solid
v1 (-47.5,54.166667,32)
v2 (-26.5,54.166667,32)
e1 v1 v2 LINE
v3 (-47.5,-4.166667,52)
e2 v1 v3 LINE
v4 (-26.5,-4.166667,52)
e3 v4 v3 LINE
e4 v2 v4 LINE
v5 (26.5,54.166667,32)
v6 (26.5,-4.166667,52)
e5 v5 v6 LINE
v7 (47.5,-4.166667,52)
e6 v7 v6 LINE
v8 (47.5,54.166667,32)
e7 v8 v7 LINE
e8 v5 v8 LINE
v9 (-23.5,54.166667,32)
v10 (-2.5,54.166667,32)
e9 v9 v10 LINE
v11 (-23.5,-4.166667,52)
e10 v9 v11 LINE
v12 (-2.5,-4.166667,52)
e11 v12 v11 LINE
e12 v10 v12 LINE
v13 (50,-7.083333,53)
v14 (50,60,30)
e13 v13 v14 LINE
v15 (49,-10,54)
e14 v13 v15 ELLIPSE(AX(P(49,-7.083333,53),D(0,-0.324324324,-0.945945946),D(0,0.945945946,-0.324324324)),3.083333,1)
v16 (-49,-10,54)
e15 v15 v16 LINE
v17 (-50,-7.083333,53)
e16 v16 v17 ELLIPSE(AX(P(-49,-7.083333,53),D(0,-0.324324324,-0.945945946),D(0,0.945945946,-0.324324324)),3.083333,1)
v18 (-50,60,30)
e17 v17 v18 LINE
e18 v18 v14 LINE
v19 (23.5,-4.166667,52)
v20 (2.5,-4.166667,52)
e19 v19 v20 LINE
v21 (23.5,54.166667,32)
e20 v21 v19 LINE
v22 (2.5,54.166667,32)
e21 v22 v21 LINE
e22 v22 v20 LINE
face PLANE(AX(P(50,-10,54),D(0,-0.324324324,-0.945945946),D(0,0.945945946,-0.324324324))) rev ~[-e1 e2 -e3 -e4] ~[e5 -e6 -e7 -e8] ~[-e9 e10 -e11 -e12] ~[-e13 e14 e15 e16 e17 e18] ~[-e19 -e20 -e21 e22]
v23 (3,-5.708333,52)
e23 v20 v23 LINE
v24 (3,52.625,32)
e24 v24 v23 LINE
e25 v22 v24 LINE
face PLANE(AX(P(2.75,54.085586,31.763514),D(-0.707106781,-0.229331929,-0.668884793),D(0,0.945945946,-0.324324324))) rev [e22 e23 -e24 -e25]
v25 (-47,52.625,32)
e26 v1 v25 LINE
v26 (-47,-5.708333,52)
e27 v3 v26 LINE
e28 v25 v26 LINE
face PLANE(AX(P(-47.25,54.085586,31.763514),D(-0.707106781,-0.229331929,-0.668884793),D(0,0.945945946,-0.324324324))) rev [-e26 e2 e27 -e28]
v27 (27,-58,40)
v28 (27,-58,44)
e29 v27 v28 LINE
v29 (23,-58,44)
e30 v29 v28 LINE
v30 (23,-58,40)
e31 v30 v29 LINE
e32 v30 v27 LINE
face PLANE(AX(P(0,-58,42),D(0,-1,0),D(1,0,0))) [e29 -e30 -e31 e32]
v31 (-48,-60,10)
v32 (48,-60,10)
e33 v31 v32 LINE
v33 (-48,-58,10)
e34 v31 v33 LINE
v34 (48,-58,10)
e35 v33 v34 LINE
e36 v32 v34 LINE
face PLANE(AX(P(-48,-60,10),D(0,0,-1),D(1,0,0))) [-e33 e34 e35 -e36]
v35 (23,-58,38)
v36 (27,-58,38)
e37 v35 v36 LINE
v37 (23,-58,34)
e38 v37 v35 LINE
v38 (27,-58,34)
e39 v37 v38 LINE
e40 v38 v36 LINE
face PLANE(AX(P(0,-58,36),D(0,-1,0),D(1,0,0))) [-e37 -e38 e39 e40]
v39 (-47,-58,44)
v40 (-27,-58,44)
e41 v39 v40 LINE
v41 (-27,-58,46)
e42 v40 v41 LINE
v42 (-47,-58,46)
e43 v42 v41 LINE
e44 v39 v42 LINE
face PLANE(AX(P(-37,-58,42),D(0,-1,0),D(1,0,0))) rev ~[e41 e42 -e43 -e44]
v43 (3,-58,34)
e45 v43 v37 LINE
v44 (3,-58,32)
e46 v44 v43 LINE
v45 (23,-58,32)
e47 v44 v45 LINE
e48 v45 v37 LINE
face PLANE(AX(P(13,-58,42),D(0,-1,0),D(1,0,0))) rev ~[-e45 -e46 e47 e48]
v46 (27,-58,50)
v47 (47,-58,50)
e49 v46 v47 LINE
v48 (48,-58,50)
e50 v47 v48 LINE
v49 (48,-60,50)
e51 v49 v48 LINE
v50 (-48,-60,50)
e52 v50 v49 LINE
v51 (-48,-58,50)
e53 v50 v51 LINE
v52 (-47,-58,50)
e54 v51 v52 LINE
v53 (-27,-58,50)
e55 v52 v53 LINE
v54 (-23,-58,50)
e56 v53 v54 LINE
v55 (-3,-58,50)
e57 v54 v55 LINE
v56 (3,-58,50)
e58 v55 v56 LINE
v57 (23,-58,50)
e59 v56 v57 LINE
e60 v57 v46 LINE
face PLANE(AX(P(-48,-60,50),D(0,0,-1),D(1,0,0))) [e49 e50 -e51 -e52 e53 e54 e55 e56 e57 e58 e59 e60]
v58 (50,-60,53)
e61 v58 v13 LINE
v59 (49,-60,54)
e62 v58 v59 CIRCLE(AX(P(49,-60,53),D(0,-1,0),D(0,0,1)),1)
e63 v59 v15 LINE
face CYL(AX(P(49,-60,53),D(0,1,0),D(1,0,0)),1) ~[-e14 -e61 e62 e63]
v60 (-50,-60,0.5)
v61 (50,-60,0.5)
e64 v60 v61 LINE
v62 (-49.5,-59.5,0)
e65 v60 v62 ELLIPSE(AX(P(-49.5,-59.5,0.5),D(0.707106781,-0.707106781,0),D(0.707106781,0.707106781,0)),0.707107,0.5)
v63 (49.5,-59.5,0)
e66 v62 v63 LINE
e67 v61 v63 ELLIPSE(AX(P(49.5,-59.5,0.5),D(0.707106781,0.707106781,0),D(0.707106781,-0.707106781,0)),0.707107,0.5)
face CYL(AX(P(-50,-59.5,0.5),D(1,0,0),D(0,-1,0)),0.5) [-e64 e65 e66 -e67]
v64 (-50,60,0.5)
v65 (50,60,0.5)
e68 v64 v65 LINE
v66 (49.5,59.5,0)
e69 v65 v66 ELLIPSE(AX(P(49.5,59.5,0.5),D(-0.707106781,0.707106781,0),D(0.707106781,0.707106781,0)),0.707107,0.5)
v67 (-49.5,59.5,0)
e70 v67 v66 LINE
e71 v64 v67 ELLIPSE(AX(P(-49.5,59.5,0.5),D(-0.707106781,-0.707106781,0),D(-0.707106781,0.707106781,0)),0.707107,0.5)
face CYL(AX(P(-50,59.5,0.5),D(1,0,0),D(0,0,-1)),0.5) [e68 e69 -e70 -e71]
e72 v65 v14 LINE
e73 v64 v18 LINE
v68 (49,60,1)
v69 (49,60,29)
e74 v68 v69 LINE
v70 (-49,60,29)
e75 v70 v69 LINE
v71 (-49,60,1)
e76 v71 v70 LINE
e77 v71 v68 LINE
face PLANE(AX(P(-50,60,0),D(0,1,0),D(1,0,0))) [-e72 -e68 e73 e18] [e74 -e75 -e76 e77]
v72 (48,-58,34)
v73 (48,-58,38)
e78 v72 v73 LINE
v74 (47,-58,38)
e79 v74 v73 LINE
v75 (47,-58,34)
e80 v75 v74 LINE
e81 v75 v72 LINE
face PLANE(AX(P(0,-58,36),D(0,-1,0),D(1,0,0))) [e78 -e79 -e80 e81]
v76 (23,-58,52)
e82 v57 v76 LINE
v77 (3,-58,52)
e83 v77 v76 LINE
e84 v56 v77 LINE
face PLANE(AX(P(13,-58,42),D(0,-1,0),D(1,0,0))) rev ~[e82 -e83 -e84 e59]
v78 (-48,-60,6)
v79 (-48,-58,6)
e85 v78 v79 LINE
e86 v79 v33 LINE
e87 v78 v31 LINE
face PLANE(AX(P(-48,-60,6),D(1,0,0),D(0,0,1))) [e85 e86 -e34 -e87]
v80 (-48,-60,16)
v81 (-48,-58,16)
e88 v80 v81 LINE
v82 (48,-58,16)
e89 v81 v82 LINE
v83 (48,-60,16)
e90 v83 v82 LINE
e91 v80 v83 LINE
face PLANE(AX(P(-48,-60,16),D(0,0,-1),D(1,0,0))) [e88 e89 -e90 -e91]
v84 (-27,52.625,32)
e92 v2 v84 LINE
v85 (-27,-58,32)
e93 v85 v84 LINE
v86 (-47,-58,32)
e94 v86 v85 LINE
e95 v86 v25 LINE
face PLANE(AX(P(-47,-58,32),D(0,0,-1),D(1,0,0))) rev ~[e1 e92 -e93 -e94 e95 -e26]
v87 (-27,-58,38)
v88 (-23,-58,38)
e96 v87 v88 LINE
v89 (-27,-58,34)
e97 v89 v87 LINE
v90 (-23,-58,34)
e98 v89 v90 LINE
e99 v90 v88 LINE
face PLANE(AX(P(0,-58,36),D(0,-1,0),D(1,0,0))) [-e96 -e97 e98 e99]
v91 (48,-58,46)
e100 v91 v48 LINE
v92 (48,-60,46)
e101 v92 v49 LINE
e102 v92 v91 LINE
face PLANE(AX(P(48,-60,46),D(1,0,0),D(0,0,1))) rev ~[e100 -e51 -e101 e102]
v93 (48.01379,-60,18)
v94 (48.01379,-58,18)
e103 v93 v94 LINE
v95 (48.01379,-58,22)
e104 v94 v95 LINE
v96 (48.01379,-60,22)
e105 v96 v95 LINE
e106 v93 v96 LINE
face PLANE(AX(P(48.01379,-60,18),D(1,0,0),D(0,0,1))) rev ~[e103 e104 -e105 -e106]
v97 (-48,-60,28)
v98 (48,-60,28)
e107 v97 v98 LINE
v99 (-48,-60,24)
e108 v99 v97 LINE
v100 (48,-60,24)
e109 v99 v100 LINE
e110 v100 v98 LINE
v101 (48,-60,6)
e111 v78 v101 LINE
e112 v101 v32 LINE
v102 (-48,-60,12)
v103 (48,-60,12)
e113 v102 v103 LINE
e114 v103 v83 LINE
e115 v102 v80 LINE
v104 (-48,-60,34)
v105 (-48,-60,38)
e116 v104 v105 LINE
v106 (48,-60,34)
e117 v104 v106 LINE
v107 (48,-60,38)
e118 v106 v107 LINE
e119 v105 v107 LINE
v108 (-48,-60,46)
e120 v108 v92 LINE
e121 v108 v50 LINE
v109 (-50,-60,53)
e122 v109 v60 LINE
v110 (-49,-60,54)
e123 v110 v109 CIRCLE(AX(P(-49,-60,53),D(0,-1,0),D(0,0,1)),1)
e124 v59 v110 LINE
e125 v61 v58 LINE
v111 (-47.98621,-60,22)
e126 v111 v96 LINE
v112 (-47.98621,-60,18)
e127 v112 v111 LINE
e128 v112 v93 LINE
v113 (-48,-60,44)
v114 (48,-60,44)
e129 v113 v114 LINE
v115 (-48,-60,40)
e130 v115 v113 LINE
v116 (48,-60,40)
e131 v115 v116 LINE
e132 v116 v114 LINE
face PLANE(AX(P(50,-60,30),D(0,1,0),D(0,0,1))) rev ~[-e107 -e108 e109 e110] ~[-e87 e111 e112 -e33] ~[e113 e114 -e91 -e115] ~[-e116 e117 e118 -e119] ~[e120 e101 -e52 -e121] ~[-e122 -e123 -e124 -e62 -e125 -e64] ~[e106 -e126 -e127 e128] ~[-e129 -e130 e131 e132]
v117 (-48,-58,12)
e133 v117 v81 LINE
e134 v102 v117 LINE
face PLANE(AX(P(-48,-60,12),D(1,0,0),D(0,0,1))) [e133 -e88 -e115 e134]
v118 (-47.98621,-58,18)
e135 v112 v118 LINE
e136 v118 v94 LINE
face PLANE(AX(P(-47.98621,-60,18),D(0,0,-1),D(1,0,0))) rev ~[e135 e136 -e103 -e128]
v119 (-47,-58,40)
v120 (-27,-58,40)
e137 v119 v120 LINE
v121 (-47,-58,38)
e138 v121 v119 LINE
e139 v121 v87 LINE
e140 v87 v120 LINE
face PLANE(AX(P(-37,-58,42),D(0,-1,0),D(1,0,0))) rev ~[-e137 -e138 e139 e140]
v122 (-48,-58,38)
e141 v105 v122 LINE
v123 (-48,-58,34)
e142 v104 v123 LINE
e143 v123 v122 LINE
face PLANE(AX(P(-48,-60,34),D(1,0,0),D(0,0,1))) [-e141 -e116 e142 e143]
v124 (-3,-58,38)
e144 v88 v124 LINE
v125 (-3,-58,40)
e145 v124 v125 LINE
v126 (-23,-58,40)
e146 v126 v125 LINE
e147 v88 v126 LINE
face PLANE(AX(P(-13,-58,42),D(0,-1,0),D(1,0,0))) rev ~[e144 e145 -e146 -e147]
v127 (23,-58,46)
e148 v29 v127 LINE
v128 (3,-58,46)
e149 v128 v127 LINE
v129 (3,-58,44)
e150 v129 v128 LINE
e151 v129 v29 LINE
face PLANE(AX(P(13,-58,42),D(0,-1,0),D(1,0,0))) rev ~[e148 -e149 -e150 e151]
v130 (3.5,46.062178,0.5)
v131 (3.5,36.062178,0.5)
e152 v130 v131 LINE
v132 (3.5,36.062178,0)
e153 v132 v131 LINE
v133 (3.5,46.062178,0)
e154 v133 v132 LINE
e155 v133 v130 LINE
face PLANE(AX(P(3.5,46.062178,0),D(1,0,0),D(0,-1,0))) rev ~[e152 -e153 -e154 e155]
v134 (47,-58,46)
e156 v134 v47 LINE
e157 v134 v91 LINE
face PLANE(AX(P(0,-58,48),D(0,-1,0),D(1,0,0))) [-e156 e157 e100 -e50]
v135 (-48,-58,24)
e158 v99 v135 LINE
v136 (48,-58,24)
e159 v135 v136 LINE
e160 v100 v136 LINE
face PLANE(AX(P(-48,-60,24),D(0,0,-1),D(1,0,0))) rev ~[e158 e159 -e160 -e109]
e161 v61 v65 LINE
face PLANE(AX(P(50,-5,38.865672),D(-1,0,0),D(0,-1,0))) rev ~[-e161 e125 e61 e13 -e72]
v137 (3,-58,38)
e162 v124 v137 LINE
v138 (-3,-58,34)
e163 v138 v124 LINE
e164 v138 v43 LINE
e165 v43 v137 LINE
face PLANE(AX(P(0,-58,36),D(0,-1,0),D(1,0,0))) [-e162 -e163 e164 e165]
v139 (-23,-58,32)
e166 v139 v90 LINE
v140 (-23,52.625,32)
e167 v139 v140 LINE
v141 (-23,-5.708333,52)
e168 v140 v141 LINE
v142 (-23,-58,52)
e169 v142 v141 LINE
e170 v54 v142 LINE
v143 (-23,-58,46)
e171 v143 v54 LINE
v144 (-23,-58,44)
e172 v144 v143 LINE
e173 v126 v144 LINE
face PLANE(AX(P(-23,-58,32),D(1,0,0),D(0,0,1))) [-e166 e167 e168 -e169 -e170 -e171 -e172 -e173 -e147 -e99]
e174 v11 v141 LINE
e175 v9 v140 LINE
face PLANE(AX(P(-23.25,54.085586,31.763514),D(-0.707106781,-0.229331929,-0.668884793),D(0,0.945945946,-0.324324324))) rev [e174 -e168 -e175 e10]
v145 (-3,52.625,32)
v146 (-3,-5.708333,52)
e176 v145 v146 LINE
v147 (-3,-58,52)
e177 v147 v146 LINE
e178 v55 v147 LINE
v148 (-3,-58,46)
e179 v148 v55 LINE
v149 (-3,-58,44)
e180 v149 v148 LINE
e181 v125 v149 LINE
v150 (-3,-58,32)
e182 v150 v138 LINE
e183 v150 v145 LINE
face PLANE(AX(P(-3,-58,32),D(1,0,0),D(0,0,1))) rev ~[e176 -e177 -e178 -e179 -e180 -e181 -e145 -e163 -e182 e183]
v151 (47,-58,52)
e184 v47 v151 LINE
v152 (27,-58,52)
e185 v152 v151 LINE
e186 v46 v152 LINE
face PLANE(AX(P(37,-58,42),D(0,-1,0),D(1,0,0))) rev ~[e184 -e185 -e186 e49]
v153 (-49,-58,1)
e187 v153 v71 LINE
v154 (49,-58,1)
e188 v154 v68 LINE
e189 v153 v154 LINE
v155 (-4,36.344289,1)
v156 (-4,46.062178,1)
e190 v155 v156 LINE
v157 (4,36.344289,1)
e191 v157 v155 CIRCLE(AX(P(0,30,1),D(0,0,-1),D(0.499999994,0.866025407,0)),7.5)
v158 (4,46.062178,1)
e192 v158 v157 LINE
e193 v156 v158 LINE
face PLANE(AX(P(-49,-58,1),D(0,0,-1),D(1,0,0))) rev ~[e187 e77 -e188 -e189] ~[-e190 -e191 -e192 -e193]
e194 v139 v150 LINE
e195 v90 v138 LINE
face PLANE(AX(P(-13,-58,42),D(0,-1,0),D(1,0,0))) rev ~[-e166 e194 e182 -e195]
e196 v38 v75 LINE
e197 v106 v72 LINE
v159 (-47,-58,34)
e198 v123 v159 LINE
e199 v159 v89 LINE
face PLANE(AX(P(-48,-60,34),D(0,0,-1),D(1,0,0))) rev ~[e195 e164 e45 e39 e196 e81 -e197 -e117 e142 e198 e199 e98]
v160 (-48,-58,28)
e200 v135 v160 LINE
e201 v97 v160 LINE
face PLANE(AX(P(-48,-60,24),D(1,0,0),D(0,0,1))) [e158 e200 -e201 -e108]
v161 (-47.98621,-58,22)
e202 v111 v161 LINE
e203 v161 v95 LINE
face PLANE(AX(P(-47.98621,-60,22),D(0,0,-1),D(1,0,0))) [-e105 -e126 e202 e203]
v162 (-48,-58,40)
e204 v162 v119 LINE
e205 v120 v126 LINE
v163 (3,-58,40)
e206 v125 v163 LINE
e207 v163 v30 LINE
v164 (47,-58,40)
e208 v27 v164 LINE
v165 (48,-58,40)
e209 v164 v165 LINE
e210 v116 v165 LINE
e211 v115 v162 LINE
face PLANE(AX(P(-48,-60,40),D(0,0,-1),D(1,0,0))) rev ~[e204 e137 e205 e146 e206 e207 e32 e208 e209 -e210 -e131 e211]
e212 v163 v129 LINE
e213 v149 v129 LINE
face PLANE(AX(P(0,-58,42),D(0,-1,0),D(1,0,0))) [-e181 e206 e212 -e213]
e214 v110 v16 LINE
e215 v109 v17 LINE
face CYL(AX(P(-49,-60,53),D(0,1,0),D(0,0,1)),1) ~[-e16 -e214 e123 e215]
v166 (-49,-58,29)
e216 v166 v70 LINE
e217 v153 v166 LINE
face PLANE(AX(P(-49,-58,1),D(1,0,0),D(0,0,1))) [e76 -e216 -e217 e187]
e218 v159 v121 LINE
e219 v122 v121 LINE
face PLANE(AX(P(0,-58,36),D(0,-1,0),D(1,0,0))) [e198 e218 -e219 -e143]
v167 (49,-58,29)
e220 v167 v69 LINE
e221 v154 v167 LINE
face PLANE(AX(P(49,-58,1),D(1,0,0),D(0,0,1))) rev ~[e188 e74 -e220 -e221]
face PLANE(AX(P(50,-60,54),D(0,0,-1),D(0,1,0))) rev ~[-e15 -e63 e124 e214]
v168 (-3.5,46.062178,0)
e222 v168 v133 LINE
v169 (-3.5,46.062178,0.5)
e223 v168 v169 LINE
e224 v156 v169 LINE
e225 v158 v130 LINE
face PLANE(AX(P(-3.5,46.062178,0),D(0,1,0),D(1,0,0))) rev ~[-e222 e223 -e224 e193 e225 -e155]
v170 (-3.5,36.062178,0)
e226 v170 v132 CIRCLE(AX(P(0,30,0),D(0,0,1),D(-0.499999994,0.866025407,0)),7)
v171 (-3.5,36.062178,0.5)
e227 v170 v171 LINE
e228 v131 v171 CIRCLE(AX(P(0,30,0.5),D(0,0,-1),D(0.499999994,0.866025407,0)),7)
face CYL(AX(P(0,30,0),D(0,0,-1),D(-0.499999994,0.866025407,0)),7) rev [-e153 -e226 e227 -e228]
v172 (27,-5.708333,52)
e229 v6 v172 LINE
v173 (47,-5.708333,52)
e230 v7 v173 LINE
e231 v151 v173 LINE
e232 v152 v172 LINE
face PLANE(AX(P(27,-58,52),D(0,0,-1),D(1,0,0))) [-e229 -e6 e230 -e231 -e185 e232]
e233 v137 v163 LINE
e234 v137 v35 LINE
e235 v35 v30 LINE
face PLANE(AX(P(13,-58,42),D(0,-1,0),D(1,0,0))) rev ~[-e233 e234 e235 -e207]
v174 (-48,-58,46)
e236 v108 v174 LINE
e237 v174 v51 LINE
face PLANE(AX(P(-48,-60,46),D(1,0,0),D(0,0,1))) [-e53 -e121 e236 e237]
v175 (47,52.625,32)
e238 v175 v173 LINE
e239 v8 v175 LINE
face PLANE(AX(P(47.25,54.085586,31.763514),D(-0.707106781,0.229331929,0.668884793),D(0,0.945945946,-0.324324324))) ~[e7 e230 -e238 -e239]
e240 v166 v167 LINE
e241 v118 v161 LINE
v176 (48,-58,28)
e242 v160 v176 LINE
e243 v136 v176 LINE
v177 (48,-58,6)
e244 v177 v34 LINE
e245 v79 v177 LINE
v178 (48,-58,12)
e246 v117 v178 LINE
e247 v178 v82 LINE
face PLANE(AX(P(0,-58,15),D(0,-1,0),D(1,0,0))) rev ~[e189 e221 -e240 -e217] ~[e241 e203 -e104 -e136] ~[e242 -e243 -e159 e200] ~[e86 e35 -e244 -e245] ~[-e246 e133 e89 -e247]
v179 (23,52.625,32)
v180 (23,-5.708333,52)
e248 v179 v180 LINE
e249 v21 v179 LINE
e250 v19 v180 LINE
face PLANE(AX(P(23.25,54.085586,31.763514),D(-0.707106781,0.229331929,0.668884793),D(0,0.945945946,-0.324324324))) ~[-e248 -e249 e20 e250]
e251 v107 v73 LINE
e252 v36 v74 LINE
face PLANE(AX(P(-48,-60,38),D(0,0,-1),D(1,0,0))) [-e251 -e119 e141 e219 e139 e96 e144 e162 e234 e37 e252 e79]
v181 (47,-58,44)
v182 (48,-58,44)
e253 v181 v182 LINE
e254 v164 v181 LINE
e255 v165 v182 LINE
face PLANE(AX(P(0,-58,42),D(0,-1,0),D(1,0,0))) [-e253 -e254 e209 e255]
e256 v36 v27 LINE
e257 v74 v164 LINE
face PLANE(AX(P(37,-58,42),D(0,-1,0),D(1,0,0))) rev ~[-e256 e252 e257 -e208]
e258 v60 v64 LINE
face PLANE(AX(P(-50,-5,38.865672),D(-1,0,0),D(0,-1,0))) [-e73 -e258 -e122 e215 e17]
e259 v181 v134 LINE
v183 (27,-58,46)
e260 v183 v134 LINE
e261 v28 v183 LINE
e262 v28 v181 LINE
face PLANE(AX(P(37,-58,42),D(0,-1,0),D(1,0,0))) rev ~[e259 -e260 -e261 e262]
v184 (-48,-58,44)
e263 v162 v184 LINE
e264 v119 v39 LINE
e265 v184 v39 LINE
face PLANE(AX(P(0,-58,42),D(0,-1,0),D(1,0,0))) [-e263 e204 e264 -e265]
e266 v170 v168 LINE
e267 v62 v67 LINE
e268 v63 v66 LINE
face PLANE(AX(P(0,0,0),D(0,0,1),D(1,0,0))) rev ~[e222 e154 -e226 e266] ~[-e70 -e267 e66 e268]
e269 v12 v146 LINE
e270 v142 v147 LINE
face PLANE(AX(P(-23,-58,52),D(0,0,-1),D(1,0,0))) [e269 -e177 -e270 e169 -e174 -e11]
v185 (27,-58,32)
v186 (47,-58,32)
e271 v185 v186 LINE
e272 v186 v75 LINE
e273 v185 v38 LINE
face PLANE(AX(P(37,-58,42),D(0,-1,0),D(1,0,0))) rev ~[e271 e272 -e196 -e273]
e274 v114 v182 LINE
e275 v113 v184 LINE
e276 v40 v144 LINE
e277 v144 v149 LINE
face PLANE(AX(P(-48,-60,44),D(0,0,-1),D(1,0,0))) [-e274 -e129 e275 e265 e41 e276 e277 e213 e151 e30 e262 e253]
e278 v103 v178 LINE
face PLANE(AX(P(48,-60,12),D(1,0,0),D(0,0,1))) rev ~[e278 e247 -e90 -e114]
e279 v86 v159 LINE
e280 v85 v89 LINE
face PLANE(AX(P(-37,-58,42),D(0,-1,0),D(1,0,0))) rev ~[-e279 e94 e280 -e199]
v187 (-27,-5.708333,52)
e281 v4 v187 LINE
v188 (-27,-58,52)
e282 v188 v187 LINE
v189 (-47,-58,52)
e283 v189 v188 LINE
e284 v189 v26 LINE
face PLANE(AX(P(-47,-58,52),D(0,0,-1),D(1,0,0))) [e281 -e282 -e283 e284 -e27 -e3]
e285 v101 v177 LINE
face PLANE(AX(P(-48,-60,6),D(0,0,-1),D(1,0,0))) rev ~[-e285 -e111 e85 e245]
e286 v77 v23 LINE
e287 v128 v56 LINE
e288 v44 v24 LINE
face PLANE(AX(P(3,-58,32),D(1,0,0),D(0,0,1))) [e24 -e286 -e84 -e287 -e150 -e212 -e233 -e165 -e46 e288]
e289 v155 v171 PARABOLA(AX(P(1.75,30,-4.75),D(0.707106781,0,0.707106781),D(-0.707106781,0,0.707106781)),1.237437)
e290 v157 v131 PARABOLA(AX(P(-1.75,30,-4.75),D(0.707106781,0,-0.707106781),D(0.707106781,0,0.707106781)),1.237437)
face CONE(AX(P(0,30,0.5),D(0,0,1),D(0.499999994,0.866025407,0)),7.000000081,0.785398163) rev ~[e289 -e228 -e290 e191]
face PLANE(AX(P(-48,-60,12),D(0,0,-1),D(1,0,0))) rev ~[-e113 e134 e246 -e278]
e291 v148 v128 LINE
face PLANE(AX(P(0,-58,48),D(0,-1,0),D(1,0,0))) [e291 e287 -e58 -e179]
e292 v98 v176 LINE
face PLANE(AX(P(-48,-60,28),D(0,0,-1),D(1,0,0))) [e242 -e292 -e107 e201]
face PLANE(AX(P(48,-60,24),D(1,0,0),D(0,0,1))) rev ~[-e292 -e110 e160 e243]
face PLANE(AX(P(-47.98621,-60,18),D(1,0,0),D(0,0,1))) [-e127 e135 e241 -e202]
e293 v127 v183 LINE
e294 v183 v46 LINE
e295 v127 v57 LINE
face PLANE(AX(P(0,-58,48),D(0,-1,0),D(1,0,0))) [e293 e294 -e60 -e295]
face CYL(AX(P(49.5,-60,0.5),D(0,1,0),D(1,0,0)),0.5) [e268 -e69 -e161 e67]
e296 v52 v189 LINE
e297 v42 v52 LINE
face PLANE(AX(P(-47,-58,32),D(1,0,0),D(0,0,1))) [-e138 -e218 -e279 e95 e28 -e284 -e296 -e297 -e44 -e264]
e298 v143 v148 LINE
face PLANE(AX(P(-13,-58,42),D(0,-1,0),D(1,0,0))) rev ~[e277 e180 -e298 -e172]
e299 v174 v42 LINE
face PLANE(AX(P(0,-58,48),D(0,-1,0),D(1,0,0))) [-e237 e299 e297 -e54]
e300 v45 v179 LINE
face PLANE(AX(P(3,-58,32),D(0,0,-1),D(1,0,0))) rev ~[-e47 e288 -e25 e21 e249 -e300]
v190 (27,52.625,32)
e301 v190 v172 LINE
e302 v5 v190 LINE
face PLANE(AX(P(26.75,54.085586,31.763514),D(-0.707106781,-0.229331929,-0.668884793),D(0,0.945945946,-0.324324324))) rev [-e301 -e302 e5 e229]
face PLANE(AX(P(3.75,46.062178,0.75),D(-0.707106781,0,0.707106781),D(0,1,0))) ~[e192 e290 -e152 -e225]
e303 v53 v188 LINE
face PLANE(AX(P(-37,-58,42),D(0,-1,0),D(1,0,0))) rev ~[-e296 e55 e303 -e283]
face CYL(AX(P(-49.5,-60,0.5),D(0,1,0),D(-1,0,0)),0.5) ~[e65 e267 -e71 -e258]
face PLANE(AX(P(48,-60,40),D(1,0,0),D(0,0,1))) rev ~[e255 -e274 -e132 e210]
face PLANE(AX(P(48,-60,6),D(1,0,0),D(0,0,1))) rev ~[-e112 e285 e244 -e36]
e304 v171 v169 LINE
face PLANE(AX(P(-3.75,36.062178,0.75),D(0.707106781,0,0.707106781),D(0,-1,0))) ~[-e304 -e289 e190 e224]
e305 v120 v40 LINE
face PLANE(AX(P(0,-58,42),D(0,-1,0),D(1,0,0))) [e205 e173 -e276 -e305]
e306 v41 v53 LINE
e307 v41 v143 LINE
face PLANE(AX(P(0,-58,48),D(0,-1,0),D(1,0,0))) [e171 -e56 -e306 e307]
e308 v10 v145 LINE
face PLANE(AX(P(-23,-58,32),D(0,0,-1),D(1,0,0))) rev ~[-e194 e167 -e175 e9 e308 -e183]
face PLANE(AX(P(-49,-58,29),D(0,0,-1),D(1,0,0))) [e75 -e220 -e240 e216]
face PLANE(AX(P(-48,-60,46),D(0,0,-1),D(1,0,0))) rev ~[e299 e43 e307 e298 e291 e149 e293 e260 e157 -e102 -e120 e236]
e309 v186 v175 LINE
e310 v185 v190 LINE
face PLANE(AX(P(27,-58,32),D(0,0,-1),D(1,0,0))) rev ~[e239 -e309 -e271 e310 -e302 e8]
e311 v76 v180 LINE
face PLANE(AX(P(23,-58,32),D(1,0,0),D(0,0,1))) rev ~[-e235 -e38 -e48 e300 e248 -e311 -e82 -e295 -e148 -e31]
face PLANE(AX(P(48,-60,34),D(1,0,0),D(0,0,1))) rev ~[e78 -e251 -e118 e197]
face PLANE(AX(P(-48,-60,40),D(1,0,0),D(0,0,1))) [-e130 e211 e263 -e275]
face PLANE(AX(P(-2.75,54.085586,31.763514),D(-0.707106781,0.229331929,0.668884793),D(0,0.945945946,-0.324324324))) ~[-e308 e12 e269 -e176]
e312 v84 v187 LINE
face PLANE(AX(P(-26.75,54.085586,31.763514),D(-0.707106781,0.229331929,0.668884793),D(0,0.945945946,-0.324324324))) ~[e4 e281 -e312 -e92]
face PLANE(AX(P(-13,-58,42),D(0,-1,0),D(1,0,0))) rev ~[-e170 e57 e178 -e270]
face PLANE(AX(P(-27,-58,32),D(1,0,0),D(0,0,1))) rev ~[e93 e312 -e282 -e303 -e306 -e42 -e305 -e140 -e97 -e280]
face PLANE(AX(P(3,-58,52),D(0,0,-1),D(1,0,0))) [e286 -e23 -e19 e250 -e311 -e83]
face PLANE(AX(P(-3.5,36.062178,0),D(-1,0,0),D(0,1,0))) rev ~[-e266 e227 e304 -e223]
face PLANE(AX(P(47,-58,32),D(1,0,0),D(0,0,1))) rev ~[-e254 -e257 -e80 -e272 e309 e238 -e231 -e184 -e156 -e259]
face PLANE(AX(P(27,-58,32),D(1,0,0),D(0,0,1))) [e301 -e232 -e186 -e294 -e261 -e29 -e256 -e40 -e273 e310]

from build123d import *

# Parameters (mm, degrees)
SKETCH_W        = 100
SKETCH_H        = 120
PAD_DEPTH       = 30
SKETCH001_W     = 98
SKETCH001_H     = 28
POCKET_DEPTH    = 118
POCKET006_DEPTH = 2
PAD001_DEPTH    = 100
SKETCH012_W     = 20
SKETCH012_H     = 20
POCKET011_DEPTH = 118
SKETCH016_W     = 96
SKETCH016_H     = 4
POCKET012_DEPTH = 2
SKETCH014_W     = 96
SKETCH014_H     = 4
POCKET013_DEPTH = 2
SKETCH013_W     = 96
SKETCH013_H     = 4
POCKET014_DEPTH = 2
SKETCH009_W     = 96
SKETCH009_H     = 4
POCKET015_DEPTH = 2
SKETCH003_W     = 96
SKETCH003_H     = 4
POCKET016_DEPTH = 2
SKETCH007_W     = 96
SKETCH007_H     = 4
POCKET017_DEPTH = 2
SKETCH008_W     = 96
SKETCH008_H     = 4
POCKET018_DEPTH = 2
FILLET_R        = 0.5
FILLET001_R     = 1
FILLET002_R     = 1
CHAMFER_SIZE    = 0.5
CHAMFER001_SIZE = 0.5


with BuildPart() as part:
    # Sketch → Pad (new body)
    with BuildSketch(Plane.XY):
        Rectangle(SKETCH_W, SKETCH_H)
    extrude(amount=PAD_DEPTH)

    # Sketch001 → Pocket (cut)
    with BuildSketch(Plane.XZ.offset(58)):
        with Locations((0, 15)):
            Rectangle(SKETCH001_W, SKETCH001_H)
    extrude(amount=-POCKET_DEPTH, mode=Mode.SUBTRACT)

    # Sketch010 → Pocket006 (cut)
    with BuildSketch(Plane.XY):
        with BuildLine():
            Line((-3.5, 46.062178), (3.5, 46.062178))
            Line((3.5, 46.062178), (3.5, 36.062178))
            ThreePointArc((-3.5, 36.062178), (0, 23), (3.5, 36.062178))
            Line((-3.5, 36.062178), (-3.5, 46.062178))
        make_face()
    extrude(amount=POCKET006_DEPTH, mode=Mode.SUBTRACT)

    # Sketch011 → Pad001 (join)
    with BuildSketch(Plane.YZ.offset(50)):
        Polygon((60, 30), (-60, 30), (-60, 54), (-10, 54), align=None)
    extrude(amount=-PAD001_DEPTH)

    # Sketch012 → Pocket011 (cut)
    with BuildSketch(Plane.XZ.offset(58)):
        with Locations((37, 42)):
            Rectangle(SKETCH012_W, SKETCH012_H)
        with Locations((13, 42)):
            Rectangle(SKETCH012_W, SKETCH012_H)
        with Locations((-13, 42)):
            Rectangle(SKETCH012_W, SKETCH012_H)
        with Locations((-37, 42)):
            Rectangle(SKETCH012_W, SKETCH012_H)
    extrude(amount=-POCKET011_DEPTH, mode=Mode.SUBTRACT)

    # Sketch016 → Pocket012 (cut)
    with BuildSketch(Plane.XZ.offset(60)):
        with Locations((0, 48)):
            Rectangle(SKETCH016_W, SKETCH016_H)
    extrude(amount=-POCKET012_DEPTH, mode=Mode.SUBTRACT)

    # Sketch014 → Pocket013 (cut)
    with BuildSketch(Plane.XZ.offset(60)):
        with Locations((0, 42)):
            Rectangle(SKETCH014_W, SKETCH014_H)
    extrude(amount=-POCKET013_DEPTH, mode=Mode.SUBTRACT)

    # Sketch013 → Pocket014 (cut)
    with BuildSketch(Plane.XZ.offset(60)):
        with Locations((0, 36)):
            Rectangle(SKETCH013_W, SKETCH013_H)
    extrude(amount=-POCKET014_DEPTH, mode=Mode.SUBTRACT)

    # Sketch009 → Pocket015 (cut)
    with BuildSketch(Plane.XZ.offset(60)):
        with Locations((0, 26)):
            Rectangle(SKETCH009_W, SKETCH009_H)
    extrude(amount=-POCKET015_DEPTH, mode=Mode.SUBTRACT)

    # Sketch003 → Pocket016 (cut)
    with BuildSketch(Plane.XZ.offset(60)):
        with Locations((0.01379, 20)):
            Rectangle(SKETCH003_W, SKETCH003_H)
    extrude(amount=-POCKET016_DEPTH, mode=Mode.SUBTRACT)

    # Sketch007 → Pocket017 (cut)
    with BuildSketch(Plane.XZ.offset(60)):
        with Locations((0, 14)):
            Rectangle(SKETCH007_W, SKETCH007_H)
    extrude(amount=-POCKET017_DEPTH, mode=Mode.SUBTRACT)

    # Sketch008 → Pocket018 (cut)
    with BuildSketch(Plane.XZ.offset(60)):
        with Locations((0, 8)):
            Rectangle(SKETCH008_W, SKETCH008_H)
    extrude(amount=-POCKET018_DEPTH, mode=Mode.SUBTRACT)

    # Fillet
    fillet_edges = [part.edges().sort_by_distance(p)[0] for p in [
        (0, -60, 0),
        (-50, 0, 0),
        (50, 0, 0),
        (0, 60, 0),
    ]]
    fillet(fillet_edges, radius=FILLET_R)

    # Fillet001
    fillet001_edges = [part.edges().sort_by_distance(p)[0] for p in [
        (50, -35, 54),
    ]]
    fillet(fillet001_edges, radius=FILLET001_R)

    # Fillet002
    fillet002_edges = [part.edges().sort_by_distance(p)[0] for p in [
        (-50, -35, 54),
    ]]
    fillet(fillet002_edges, radius=FILLET002_R)

    # Chamfer
    chamfer_edges = [part.edges().sort_by_distance(p)[0] for p in [
        (47, 25, 42),
        (27, 25, 42),
        (23, 25, 42),
        (3, 25, 42),
        (-3, 25, 42),
        (-23, 25, 42),
        (-27, 25, 42),
        (-47, 25, 42),
    ]]
    chamfer(chamfer_edges, length=CHAMFER_SIZE)

    # Chamfer001
    chamfer001_edges = [part.edges().sort_by_distance(p)[0] for p in [
        (3.5, 41.062178, 1),
        (0, 23, 1),
        (-3.5, 41.062178, 1),
    ]]
    chamfer(chamfer001_edges, length=CHAMFER001_SIZE)


solid = part.part
